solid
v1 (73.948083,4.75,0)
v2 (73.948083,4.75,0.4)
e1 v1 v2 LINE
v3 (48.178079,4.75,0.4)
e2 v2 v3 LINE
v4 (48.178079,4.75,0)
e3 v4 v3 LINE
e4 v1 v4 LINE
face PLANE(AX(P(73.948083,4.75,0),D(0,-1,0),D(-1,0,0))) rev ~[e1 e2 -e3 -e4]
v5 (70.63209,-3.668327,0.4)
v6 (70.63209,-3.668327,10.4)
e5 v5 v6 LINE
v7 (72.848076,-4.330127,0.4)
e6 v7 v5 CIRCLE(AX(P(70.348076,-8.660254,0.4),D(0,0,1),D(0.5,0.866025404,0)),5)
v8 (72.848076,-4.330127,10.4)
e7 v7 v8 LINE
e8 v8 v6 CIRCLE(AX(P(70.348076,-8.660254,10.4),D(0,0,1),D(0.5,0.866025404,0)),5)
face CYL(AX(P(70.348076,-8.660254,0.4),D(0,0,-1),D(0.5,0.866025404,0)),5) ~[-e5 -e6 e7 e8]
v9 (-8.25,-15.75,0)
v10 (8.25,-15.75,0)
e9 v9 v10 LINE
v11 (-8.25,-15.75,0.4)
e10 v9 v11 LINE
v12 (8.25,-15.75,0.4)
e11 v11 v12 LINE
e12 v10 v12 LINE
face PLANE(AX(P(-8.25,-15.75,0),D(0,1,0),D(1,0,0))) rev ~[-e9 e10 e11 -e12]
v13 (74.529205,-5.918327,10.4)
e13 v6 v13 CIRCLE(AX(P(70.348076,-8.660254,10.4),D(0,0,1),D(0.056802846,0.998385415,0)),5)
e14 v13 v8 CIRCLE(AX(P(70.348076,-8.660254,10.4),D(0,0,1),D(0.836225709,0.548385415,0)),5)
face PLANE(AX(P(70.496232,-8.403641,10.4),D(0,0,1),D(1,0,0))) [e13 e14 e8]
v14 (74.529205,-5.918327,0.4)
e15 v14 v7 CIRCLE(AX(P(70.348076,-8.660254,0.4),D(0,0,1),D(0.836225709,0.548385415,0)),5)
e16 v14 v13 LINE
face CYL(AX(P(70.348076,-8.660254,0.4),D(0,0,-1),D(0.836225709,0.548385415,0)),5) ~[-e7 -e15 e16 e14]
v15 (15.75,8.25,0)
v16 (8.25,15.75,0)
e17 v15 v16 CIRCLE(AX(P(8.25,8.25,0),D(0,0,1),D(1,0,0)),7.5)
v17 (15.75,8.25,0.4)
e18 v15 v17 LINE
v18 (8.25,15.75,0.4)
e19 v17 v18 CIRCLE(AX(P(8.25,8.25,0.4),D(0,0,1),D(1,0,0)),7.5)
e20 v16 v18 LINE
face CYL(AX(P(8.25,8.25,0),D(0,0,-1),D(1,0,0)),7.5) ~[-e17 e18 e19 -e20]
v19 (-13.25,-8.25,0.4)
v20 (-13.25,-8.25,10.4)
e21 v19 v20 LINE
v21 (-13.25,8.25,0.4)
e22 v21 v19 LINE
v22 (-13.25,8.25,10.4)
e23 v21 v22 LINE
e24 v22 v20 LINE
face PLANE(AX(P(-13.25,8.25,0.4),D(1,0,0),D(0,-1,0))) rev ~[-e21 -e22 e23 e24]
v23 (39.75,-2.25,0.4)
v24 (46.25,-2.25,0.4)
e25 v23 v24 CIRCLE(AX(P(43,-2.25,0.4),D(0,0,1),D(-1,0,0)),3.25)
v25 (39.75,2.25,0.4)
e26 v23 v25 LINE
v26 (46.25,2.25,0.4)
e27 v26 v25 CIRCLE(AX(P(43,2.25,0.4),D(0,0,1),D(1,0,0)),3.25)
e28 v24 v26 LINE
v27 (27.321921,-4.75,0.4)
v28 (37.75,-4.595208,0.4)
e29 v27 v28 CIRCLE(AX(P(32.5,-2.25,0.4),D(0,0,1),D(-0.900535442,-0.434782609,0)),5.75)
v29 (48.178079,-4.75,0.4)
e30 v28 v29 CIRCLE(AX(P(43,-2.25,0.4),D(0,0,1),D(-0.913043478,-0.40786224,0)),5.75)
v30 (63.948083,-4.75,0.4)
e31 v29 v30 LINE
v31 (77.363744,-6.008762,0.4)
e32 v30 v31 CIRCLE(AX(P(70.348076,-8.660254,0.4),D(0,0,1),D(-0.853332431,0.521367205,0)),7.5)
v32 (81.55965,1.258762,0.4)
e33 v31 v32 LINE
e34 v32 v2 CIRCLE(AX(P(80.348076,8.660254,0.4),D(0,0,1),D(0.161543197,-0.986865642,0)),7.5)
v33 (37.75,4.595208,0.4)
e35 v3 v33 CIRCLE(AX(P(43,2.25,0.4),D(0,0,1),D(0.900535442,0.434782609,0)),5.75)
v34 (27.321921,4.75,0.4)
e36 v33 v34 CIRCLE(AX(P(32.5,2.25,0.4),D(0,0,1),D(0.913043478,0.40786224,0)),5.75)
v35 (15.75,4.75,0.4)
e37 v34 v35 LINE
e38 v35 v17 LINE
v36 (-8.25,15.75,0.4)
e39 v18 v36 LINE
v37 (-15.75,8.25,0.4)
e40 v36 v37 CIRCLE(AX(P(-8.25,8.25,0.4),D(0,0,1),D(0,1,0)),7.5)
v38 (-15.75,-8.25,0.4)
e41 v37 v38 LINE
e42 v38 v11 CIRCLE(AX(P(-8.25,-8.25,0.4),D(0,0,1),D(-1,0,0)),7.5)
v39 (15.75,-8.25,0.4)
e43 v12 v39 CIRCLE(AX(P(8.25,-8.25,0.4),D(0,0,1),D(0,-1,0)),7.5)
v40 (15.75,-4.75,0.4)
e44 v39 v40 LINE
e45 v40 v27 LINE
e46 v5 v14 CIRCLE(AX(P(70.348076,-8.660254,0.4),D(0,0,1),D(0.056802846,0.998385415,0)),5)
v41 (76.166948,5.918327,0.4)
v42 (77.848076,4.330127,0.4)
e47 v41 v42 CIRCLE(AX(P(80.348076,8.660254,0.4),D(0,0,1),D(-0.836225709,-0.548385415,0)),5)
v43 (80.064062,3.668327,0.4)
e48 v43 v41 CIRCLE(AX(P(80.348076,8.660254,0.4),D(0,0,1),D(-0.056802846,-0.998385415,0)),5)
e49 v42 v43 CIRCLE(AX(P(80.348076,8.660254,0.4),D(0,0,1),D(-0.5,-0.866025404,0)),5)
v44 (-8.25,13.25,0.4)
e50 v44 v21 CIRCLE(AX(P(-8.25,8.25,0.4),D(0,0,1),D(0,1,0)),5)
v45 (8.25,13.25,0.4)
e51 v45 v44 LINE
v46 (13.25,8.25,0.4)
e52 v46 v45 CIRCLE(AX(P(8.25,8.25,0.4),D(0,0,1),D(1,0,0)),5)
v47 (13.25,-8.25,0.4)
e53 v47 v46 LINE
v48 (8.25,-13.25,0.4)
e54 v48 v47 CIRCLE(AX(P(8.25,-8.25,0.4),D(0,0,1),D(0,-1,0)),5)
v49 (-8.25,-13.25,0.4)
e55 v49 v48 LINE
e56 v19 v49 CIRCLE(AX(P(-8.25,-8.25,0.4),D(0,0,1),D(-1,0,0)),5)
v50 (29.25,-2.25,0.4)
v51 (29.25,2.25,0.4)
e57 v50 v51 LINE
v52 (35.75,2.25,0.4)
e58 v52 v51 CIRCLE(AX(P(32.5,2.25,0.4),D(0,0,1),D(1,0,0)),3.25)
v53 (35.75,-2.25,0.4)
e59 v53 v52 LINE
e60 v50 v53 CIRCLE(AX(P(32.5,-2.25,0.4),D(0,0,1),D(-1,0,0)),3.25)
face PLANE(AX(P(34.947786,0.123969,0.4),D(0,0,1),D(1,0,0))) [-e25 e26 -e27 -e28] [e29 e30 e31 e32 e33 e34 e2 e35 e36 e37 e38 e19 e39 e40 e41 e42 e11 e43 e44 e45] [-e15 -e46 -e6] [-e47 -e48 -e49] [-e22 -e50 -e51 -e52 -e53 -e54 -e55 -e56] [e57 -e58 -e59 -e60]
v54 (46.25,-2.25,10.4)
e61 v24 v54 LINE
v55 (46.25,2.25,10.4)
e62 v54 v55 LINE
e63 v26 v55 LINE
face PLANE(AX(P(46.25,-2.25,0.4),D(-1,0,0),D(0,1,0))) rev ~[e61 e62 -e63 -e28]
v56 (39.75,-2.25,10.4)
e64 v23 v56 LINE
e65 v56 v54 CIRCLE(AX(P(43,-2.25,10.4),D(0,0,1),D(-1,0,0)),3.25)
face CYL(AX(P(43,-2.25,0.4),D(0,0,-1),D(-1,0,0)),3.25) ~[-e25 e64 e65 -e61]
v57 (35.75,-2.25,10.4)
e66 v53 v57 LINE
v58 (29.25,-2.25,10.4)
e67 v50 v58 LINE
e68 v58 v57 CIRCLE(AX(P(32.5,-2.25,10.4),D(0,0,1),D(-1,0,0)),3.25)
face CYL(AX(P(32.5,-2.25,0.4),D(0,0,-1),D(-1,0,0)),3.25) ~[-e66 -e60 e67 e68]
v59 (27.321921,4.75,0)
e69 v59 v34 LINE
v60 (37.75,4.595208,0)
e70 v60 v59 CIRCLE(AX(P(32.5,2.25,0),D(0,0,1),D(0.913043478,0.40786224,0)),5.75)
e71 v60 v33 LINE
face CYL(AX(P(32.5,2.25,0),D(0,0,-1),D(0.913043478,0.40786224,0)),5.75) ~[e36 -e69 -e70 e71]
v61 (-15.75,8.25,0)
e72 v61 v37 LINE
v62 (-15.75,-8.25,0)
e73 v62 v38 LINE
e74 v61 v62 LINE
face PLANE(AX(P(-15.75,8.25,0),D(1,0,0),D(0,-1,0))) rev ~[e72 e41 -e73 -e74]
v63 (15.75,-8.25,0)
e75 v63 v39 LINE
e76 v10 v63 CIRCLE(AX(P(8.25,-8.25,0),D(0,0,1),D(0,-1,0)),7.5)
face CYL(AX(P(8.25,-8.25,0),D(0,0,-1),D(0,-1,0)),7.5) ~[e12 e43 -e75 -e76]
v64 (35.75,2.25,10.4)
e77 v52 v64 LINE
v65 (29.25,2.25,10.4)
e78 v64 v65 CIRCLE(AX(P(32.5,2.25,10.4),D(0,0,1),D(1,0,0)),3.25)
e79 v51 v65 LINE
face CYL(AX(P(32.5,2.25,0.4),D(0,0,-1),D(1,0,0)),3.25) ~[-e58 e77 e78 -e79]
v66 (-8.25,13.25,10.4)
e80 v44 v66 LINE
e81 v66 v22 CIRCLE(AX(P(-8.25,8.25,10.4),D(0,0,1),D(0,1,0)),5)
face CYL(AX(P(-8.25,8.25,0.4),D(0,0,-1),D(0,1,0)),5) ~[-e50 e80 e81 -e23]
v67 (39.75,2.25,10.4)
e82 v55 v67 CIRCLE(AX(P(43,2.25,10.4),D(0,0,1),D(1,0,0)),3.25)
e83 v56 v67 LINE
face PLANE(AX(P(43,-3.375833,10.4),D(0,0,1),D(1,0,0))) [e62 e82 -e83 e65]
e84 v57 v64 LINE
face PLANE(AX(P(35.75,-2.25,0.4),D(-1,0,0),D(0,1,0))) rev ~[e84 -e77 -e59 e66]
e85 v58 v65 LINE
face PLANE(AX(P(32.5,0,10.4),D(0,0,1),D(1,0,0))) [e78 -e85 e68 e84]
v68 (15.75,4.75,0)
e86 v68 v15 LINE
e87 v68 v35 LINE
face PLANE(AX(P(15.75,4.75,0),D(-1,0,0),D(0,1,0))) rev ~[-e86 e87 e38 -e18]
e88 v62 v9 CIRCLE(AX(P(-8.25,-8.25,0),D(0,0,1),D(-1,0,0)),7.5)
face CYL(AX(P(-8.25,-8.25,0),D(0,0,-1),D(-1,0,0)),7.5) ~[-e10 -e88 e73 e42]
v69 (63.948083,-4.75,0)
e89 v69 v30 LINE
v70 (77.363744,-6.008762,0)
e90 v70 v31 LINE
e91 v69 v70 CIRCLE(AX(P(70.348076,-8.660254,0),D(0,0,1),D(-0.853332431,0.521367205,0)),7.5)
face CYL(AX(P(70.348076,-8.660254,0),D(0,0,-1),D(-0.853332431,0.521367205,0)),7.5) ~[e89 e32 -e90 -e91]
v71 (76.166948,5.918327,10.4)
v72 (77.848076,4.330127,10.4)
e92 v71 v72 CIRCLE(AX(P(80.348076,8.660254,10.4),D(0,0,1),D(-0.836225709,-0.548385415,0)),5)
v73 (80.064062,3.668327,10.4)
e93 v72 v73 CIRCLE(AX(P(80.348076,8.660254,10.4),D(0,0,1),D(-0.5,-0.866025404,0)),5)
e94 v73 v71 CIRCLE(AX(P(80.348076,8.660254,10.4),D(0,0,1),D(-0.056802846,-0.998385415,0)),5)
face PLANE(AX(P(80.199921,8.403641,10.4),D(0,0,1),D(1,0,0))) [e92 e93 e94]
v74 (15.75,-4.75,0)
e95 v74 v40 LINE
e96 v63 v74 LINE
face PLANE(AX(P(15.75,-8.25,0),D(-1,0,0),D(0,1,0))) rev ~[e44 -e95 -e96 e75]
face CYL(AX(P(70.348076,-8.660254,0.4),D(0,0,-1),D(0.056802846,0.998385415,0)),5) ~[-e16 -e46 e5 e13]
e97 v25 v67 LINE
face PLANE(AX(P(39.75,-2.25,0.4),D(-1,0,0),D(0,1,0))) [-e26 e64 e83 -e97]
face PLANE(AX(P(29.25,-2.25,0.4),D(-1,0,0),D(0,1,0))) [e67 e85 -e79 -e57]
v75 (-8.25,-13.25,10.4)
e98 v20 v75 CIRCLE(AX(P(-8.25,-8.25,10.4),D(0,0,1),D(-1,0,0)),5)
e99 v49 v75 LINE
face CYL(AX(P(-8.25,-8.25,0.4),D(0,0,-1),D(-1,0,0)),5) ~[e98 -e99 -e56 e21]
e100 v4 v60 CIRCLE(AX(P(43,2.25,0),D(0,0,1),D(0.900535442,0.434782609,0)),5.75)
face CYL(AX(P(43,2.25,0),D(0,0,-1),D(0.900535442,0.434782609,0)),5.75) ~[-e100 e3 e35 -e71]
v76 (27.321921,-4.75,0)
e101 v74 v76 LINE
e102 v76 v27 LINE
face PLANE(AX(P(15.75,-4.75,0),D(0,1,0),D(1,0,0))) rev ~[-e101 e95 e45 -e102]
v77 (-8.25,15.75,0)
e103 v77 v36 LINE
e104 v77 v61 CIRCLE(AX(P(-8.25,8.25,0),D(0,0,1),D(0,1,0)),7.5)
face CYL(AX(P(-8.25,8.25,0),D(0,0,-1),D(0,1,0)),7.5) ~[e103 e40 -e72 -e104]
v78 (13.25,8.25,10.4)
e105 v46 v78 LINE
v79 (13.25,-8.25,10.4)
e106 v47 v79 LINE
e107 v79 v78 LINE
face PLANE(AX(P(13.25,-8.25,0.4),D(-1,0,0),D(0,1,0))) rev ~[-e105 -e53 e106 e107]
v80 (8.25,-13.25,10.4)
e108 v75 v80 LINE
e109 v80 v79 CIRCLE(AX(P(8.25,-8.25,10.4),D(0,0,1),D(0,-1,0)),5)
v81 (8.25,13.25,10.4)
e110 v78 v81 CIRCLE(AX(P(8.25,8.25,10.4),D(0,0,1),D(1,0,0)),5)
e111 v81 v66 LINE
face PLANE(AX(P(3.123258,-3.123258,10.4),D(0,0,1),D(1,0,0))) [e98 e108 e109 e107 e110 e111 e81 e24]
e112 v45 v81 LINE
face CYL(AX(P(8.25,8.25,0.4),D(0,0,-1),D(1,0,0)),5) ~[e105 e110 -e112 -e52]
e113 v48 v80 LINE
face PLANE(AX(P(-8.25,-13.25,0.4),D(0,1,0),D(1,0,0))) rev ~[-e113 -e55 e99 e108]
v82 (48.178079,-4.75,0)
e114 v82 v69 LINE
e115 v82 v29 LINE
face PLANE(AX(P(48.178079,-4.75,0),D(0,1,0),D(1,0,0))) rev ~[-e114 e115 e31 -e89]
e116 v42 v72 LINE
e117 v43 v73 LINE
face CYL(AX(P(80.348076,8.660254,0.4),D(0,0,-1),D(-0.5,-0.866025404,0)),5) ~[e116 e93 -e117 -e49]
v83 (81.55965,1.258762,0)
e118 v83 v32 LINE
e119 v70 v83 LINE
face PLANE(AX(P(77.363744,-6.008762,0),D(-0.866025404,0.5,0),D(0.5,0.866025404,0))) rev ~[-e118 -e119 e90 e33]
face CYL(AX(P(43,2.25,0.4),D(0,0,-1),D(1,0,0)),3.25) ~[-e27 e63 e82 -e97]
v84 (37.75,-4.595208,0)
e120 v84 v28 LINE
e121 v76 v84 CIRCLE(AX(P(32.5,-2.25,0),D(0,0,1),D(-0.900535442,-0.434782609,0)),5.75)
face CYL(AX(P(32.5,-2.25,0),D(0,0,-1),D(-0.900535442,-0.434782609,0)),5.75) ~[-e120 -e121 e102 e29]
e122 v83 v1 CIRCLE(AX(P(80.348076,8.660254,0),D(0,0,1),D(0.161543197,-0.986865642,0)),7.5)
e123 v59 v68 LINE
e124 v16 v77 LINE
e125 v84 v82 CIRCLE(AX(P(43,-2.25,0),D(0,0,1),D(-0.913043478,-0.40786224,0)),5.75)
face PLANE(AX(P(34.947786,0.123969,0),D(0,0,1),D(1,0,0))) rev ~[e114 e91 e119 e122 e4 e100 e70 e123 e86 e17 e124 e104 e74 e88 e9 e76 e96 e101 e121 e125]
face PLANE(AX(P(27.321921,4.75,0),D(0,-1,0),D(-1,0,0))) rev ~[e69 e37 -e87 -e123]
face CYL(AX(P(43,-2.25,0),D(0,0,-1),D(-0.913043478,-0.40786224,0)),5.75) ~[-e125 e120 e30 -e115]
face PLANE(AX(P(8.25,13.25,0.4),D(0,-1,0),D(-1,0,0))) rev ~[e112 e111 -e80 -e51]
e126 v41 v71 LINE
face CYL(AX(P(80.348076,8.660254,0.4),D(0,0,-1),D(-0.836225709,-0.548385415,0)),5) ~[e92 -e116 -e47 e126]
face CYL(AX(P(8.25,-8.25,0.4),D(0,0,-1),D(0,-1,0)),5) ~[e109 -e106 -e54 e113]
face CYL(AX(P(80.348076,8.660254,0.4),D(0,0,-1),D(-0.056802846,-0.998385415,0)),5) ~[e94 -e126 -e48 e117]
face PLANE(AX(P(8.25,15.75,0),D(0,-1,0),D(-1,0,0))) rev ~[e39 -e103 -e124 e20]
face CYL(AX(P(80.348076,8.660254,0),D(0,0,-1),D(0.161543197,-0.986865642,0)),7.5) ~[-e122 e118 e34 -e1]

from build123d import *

# Parameters (mm, degrees)
F0_W     = 4
F0_H     = 4.5
F0_W_2   = 16
F0_W_3   = 6.5
F1_DEPTH = 0.4
F2_W     = 6.5
F2_H     = 4.5
F3_DEPTH = 10


with BuildPart() as f1:
    # F0 (on Top) → F1 (new body)
    with BuildSketch(Plane.XY):
        with BuildLine():
            Line((15.75, 4.75), (15.75, 8.25))
            ThreePointArc((15.75, 8.25), (13.5533008589, 13.5533008589), (8.25, 15.75))
            Line((8.25, 15.75), (-8.25, 15.75))
            ThreePointArc((-8.25, 15.75), (-13.5533008589, 13.5533008589), (-15.75, 8.25))
            Line((-15.75, 8.25), (-15.75, -8.25))
            ThreePointArc((-15.75, -8.25), (-13.5533008589, -13.5533008589), (-8.25, -15.75))
            Line((-8.25, -15.75), (8.25, -15.75))
            ThreePointArc((8.25, -15.75), (13.5533008589, -13.5533008589), (15.75, -8.25))
            Line((15.75, -8.25), (15.75, -4.75))
            Line((15.75, -4.75), (27.3219212057, -4.75))
            ThreePointArc((27.3219212057, -4.75), (32.5853423404, -7.9993666334), (37.75, -4.5952078799))
            ThreePointArc((37.75, -4.5952078799), (42.9146576596, -7.9993666334), (48.1780787943, -4.75))
            Line((48.1780787943, -4.75), (63.9480829801, -4.75))
            ThreePointArc((63.9480829801, -4.75), (69.6474451199, -16.1274567319), (77.3637435709, -6.0087617221))
            Line((77.3637435709, -6.0087617221), (81.5596501878, 1.2587617221))
            ThreePointArc((81.5596501878, 1.2587617221), (83.4749132345, 15.4773568118), (73.9480829801, 4.75))
            Line((73.9480829801, 4.75), (48.1780787943, 4.75))
            ThreePointArc((48.1780787943, 4.75), (42.9146576596, 7.9993666334), (37.75, 4.5952078799))
            ThreePointArc((37.75, 4.5952078799), (32.5853423404, 7.9993666334), (27.3219212057, 4.75))
            Line((27.3219212057, 4.75), (15.75, 4.75))
        make_face()
        with BuildLine():
            Line((4.5, 13.25), (8.25, 13.25))
            ThreePointArc((8.25, 13.25), (11.7855339059, 11.7855339059), (13.25, 8.25))
            Line((13.25, 8.25), (13.25, 4.5))
            Line((13.25, 4.5), (13.25, 2.25))
            Line((13.25, 2.25), (29.25, 2.25))
            ThreePointArc((29.25, 2.25), (32.5, 5.5), (35.75, 2.25))
            Line((35.75, 2.25), (39.75, 2.25))
            ThreePointArc((39.75, 2.25), (43, 5.5), (46.25, 2.25))
            Line((46.25, 2.25), (74.0490381057, 2.25))
            Line((74.0490381057, 2.25), (76.1669476654, 5.9183269633))
            ThreePointArc((76.1669476654, 5.9183269633), (82.8480762114, 12.9903810568), (80.0640619824, 3.6683269633))
            Line((80.0640619824, 3.6683269633), (74.5292047573, -5.9183269633))
            ThreePointArc((74.5292047573, -5.9183269633), (67.8480762114, -12.9903810568), (70.6320904403, -3.6683269633))
            Line((70.6320904403, -3.6683269633), (71.4509618943, -2.25))
            Line((71.4509618943, -2.25), (46.25, -2.25))
            ThreePointArc((46.25, -2.25), (43, -5.5), (39.75, -2.25))
            Line((39.75, -2.25), (35.75, -2.25))
            ThreePointArc((35.75, -2.25), (32.5, -5.5), (29.25, -2.25))
            Line((29.25, -2.25), (13.25, -2.25))
            Line((13.25, -2.25), (13.25, -4.5))
            Line((13.25, -4.5), (13.25, -8.25))
            ThreePointArc((13.25, -8.25), (11.7855339059, -11.7855339059), (8.25, -13.25))
            Line((8.25, -13.25), (4.5, -13.25))
            Line((4.5, -13.25), (-4.5, -13.25))
            Line((-4.5, -13.25), (-8.25, -13.25))
            ThreePointArc((-8.25, -13.25), (-11.7855339059, -11.7855339059), (-13.25, -8.25))
            Line((-13.25, -8.25), (-13.25, -4.5))
            Line((-13.25, -4.5), (-13.25, 4.5))
            Line((-13.25, 4.5), (-13.25, 8.25))
            ThreePointArc((-13.25, 8.25), (-11.7855339059, 11.7855339059), (-8.25, 13.25))
            Line((-8.25, 13.25), (-4.5, 13.25))
            Line((-4.5, 13.25), (4.5, 13.25))
        make_face(mode=Mode.SUBTRACT)
        with Locations((37.75, 0)):
            Rectangle(F0_W, F0_H)
        with BuildLine():
            Line((4.5, 0), (4.5, 4.5))
            Line((4.5, 4.5), (0, 4.5))
            ThreePointArc((0, 4.5), (3.1819805153, 3.1819805153), (4.5, 0))
        make_face()
        with Locations((21.25, 0)):
            Rectangle(F0_W_2, F0_H)
        Polygon((74.0490381057, 2.25), (46.25, 2.25), (46.25, -2.25), (71.4509618943, -2.25), align=None)
        with BuildLine():
            ThreePointArc((13.25, 8.25), (11.7855339059, 11.7855339059), (8.25, 13.25))
            Line((8.25, 13.25), (4.5, 13.25))
            Line((4.5, 13.25), (4.5, 4.5))
            Line((4.5, 4.5), (13.25, 4.5))
            Line((13.25, 4.5), (13.25, 8.25))
        make_face()
        Polygon((4.5, 4.5), (4.5, 13.25), (-4.5, 13.25), (-4.5, 4.5), (0, 4.5), align=None)
        with BuildLine():
            Line((0, 4.5), (-4.5, 4.5))
            Line((-4.5, 4.5), (-4.5, 0))
            ThreePointArc((-4.5, 0), (-3.1819805153, 3.1819805153), (0, 4.5))
        make_face()
        with BuildLine():
            Line((-4.5, 4.5), (-4.5, 13.25))
            Line((-4.5, 13.25), (-8.25, 13.25))
            ThreePointArc((-8.25, 13.25), (-11.7855339059, 11.7855339059), (-13.25, 8.25))
            Line((-13.25, 8.25), (-13.25, 4.5))
            Line((-13.25, 4.5), (-4.5, 4.5))
        make_face()
        with BuildLine():
            ThreePointArc((0, -4.5), (-3.1819805153, -3.1819805153), (-4.5, 0))
            Line((-4.5, 0), (-4.5, -4.5))
            Line((-4.5, -4.5), (0, -4.5))
        make_face()
        Polygon((-4.5, 0), (-4.5, 4.5), (-13.25, 4.5), (-13.25, -4.5), (-4.5, -4.5), align=None)
        with BuildLine():
            Line((76.1669476654, 5.9183269633), (74.0490381057, 2.25))
            Line((74.0490381057, 2.25), (71.4509618943, -2.25))
            Line((71.4509618943, -2.25), (70.6320904403, -3.6683269633))
            ThreePointArc((70.6320904403, -3.6683269633), (72.8480762114, -4.3301270189), (74.5292047573, -5.9183269633))
            Line((74.5292047573, -5.9183269633), (80.0640619824, 3.6683269633))
            ThreePointArc((80.0640619824, 3.6683269633), (77.8480762114, 4.3301270189), (76.1669476654, 5.9183269633))
        make_face()
        with BuildLine():
            Line((13.25, -4.5), (4.5, -4.5))
            Line((4.5, -4.5), (4.5, -13.25))
            Line((4.5, -13.25), (8.25, -13.25))
            ThreePointArc((8.25, -13.25), (11.7855339059, -11.7855339059), (13.25, -8.25))
            Line((13.25, -8.25), (13.25, -4.5))
        make_face()
        Polygon((4.5, -4.5), (0, -4.5), (-4.5, -4.5), (-4.5, -13.25), (4.5, -13.25), align=None)
        with BuildLine():
            Line((-4.5, -13.25), (-4.5, -4.5))
            Line((-4.5, -4.5), (-13.25, -4.5))
            Line((-13.25, -4.5), (-13.25, -8.25))
            ThreePointArc((-13.25, -8.25), (-11.7855339059, -11.7855339059), (-8.25, -13.25))
            Line((-8.25, -13.25), (-4.5, -13.25))
        make_face()
        with BuildLine():
            ThreePointArc((0, -4.5), (3.1819805153, -3.1819805153), (4.5, 0))
            ThreePointArc((4.5, 0), (3.1819805153, 3.1819805153), (0, 4.5))
            ThreePointArc((0, 4.5), (-3.1819805153, 3.1819805153), (-4.5, 0))
            ThreePointArc((-4.5, 0), (-3.1819805153, -3.1819805153), (0, -4.5))
        make_face()
        with BuildLine():
            ThreePointArc((35.75, 2.25), (32.5, 5.5), (29.25, 2.25))
            Line((29.25, 2.25), (35.75, 2.25))
        make_face()
        with BuildLine():
            Line((4.5, -4.5), (4.5, 0))
            ThreePointArc((4.5, 0), (3.1819805153, -3.1819805153), (0, -4.5))
            Line((0, -4.5), (4.5, -4.5))
        make_face()
        with BuildLine():
            Line((46.25, -2.25), (39.75, -2.25))
            ThreePointArc((39.75, -2.25), (43, -5.5), (46.25, -2.25))
        make_face()
        with BuildLine():
            ThreePointArc((46.25, 2.25), (43, 5.5), (39.75, 2.25))
            Line((39.75, 2.25), (46.25, 2.25))
        make_face()
        with BuildLine():
            Line((35.75, -2.25), (29.25, -2.25))
            ThreePointArc((29.25, -2.25), (32.5, -5.5), (35.75, -2.25))
        make_face()
        with BuildLine():
            ThreePointArc((74.5292047573, -5.9183269633), (72.8480762114, -4.3301270189), (70.6320904403, -3.6683269633))
            ThreePointArc((70.6320904403, -3.6683269633), (67.8480762114, -12.9903810568), (74.5292047573, -5.9183269633))
        make_face()
        with BuildLine():
            ThreePointArc((80.0640619824, 3.6683269633), (82.8480762114, 12.9903810568), (76.1669476654, 5.9183269633))
            ThreePointArc((76.1669476654, 5.9183269633), (77.8480762114, 4.3301270189), (80.0640619824, 3.6683269633))
        make_face()
        Polygon((13.25, 4.5), (4.5, 4.5), (4.5, 0), (4.5, -4.5), (13.25, -4.5), (13.25, -2.25), (13.25, 2.25), align=None)
        with Locations((32.5, 0)):
            Rectangle(F0_W_3, F0_H)
        with Locations((43, 0)):
            Rectangle(F0_W_3, F0_H)
    extrude(amount=F1_DEPTH)

    # F2 (on face) → F3 (join)
    with BuildSketch(Plane.XY.offset(0.4)):
        with BuildLine():
            Line((4.5, -4.5), (4.5, 0))
            ThreePointArc((4.5, 0), (3.1819805153, -3.1819805153), (0, -4.5))
            Line((0, -4.5), (4.5, -4.5))
        make_face()
        with BuildLine():
            ThreePointArc((0, -4.5), (3.1819805153, -3.1819805153), (4.5, 0))
            ThreePointArc((4.5, 0), (3.1819805153, 3.1819805153), (0, 4.5))
            ThreePointArc((0, 4.5), (-3.1819805153, 3.1819805153), (-4.5, 0))
            ThreePointArc((-4.5, 0), (-3.1819805153, -3.1819805153), (0, -4.5))
        make_face()
        with BuildLine():
            Line((4.5, 0), (4.5, 4.5))
            Line((4.5, 4.5), (0, 4.5))
            ThreePointArc((0, 4.5), (3.1819805153, 3.1819805153), (4.5, 0))
        make_face()
        with BuildLine():
            Line((0, 4.5), (-4.5, 4.5))
            Line((-4.5, 4.5), (-4.5, 0))
            ThreePointArc((-4.5, 0), (-3.1819805153, 3.1819805153), (0, 4.5))
        make_face()
        with BuildLine():
            ThreePointArc((0, -4.5), (-3.1819805153, -3.1819805153), (-4.5, 0))
            Line((-4.5, 0), (-4.5, -4.5))
            Line((-4.5, -4.5), (0, -4.5))
        make_face()
        Polygon((13.25, 4.5), (4.5, 4.5), (4.5, 0), (4.5, -4.5), (13.25, -4.5), (13.25, -2.25), (13.25, 2.25), align=None)
        with BuildLine():
            Line((-4.5, 4.5), (-4.5, 13.25))
            Line((-4.5, 13.25), (-8.25, 13.25))
            ThreePointArc((-8.25, 13.25), (-11.7855339059, 11.7855339059), (-13.25, 8.25))
            Line((-13.25, 8.25), (-13.25, 4.5))
            Line((-13.25, 4.5), (-4.5, 4.5))
        make_face()
        Polygon((-4.5, 0), (-4.5, 4.5), (-13.25, 4.5), (-13.25, -4.5), (-4.5, -4.5), align=None)
        with BuildLine():
            ThreePointArc((13.25, 8.25), (11.7855339059, 11.7855339059), (8.25, 13.25))
            Line((8.25, 13.25), (4.5, 13.25))
            Line((4.5, 13.25), (4.5, 4.5))
            Line((4.5, 4.5), (13.25, 4.5))
            Line((13.25, 4.5), (13.25, 8.25))
        make_face()
        Polygon((4.5, 4.5), (4.5, 13.25), (-4.5, 13.25), (-4.5, 4.5), (0, 4.5), align=None)
        Polygon((4.5, -4.5), (0, -4.5), (-4.5, -4.5), (-4.5, -13.25), (4.5, -13.25), align=None)
        with BuildLine():
            Line((-4.5, -13.25), (-4.5, -4.5))
            Line((-4.5, -4.5), (-13.25, -4.5))
            Line((-13.25, -4.5), (-13.25, -8.25))
            ThreePointArc((-13.25, -8.25), (-11.7855339059, -11.7855339059), (-8.25, -13.25))
            Line((-8.25, -13.25), (-4.5, -13.25))
        make_face()
        with BuildLine():
            Line((13.25, -4.5), (4.5, -4.5))
            Line((4.5, -4.5), (4.5, -13.25))
            Line((4.5, -13.25), (8.25, -13.25))
            ThreePointArc((8.25, -13.25), (11.7855339059, -11.7855339059), (13.25, -8.25))
            Line((13.25, -8.25), (13.25, -4.5))
        make_face()
        with Locations((32.5, 0)):
            Rectangle(F2_W, F2_H)
        with BuildLine():
            ThreePointArc((35.75, 2.25), (32.5, 5.5), (29.25, 2.25))
            Line((29.25, 2.25), (35.75, 2.25))
        make_face()
        with BuildLine():
            Line((35.75, -2.25), (29.25, -2.25))
            ThreePointArc((29.25, -2.25), (32.5, -5.5), (35.75, -2.25))
        make_face()
        with BuildLine():
            Line((46.25, -2.25), (39.75, -2.25))
            ThreePointArc((39.75, -2.25), (43, -5.5), (46.25, -2.25))
        make_face()
        with Locations((43, 0)):
            Rectangle(F2_W, F2_H)
        with BuildLine():
            ThreePointArc((46.25, 2.25), (43, 5.5), (39.75, 2.25))
            Line((39.75, 2.25), (46.25, 2.25))
        make_face()
        with BuildLine():
            ThreePointArc((72.8480762114, -4.3301270189), (71.7788727151, -3.8693437522), (70.6320904403, -3.6683269633))
            ThreePointArc((70.6320904403, -3.6683269633), (67.8480762114, -12.9903810568), (74.5292047573, -5.9183269633))
            ThreePointArc((74.5292047573, -5.9183269633), (73.7817279741, -5.0256927751), (72.8480762114, -4.3301270189))
        make_face()
        with BuildLine():
            ThreePointArc((80.0640619824, 3.6683269633), (82.8480762114, 12.9903810568), (76.1669476654, 5.9183269633))
            ThreePointArc((76.1669476654, 5.9183269633), (76.9144244486, 5.0256927751), (77.8480762114, 4.3301270189))
            ThreePointArc((77.8480762114, 4.3301270189), (78.9172797076, 3.8693437522), (80.0640619824, 3.6683269633))
        make_face()
    extrude(amount=F3_DEPTH)


solid = f1.part
